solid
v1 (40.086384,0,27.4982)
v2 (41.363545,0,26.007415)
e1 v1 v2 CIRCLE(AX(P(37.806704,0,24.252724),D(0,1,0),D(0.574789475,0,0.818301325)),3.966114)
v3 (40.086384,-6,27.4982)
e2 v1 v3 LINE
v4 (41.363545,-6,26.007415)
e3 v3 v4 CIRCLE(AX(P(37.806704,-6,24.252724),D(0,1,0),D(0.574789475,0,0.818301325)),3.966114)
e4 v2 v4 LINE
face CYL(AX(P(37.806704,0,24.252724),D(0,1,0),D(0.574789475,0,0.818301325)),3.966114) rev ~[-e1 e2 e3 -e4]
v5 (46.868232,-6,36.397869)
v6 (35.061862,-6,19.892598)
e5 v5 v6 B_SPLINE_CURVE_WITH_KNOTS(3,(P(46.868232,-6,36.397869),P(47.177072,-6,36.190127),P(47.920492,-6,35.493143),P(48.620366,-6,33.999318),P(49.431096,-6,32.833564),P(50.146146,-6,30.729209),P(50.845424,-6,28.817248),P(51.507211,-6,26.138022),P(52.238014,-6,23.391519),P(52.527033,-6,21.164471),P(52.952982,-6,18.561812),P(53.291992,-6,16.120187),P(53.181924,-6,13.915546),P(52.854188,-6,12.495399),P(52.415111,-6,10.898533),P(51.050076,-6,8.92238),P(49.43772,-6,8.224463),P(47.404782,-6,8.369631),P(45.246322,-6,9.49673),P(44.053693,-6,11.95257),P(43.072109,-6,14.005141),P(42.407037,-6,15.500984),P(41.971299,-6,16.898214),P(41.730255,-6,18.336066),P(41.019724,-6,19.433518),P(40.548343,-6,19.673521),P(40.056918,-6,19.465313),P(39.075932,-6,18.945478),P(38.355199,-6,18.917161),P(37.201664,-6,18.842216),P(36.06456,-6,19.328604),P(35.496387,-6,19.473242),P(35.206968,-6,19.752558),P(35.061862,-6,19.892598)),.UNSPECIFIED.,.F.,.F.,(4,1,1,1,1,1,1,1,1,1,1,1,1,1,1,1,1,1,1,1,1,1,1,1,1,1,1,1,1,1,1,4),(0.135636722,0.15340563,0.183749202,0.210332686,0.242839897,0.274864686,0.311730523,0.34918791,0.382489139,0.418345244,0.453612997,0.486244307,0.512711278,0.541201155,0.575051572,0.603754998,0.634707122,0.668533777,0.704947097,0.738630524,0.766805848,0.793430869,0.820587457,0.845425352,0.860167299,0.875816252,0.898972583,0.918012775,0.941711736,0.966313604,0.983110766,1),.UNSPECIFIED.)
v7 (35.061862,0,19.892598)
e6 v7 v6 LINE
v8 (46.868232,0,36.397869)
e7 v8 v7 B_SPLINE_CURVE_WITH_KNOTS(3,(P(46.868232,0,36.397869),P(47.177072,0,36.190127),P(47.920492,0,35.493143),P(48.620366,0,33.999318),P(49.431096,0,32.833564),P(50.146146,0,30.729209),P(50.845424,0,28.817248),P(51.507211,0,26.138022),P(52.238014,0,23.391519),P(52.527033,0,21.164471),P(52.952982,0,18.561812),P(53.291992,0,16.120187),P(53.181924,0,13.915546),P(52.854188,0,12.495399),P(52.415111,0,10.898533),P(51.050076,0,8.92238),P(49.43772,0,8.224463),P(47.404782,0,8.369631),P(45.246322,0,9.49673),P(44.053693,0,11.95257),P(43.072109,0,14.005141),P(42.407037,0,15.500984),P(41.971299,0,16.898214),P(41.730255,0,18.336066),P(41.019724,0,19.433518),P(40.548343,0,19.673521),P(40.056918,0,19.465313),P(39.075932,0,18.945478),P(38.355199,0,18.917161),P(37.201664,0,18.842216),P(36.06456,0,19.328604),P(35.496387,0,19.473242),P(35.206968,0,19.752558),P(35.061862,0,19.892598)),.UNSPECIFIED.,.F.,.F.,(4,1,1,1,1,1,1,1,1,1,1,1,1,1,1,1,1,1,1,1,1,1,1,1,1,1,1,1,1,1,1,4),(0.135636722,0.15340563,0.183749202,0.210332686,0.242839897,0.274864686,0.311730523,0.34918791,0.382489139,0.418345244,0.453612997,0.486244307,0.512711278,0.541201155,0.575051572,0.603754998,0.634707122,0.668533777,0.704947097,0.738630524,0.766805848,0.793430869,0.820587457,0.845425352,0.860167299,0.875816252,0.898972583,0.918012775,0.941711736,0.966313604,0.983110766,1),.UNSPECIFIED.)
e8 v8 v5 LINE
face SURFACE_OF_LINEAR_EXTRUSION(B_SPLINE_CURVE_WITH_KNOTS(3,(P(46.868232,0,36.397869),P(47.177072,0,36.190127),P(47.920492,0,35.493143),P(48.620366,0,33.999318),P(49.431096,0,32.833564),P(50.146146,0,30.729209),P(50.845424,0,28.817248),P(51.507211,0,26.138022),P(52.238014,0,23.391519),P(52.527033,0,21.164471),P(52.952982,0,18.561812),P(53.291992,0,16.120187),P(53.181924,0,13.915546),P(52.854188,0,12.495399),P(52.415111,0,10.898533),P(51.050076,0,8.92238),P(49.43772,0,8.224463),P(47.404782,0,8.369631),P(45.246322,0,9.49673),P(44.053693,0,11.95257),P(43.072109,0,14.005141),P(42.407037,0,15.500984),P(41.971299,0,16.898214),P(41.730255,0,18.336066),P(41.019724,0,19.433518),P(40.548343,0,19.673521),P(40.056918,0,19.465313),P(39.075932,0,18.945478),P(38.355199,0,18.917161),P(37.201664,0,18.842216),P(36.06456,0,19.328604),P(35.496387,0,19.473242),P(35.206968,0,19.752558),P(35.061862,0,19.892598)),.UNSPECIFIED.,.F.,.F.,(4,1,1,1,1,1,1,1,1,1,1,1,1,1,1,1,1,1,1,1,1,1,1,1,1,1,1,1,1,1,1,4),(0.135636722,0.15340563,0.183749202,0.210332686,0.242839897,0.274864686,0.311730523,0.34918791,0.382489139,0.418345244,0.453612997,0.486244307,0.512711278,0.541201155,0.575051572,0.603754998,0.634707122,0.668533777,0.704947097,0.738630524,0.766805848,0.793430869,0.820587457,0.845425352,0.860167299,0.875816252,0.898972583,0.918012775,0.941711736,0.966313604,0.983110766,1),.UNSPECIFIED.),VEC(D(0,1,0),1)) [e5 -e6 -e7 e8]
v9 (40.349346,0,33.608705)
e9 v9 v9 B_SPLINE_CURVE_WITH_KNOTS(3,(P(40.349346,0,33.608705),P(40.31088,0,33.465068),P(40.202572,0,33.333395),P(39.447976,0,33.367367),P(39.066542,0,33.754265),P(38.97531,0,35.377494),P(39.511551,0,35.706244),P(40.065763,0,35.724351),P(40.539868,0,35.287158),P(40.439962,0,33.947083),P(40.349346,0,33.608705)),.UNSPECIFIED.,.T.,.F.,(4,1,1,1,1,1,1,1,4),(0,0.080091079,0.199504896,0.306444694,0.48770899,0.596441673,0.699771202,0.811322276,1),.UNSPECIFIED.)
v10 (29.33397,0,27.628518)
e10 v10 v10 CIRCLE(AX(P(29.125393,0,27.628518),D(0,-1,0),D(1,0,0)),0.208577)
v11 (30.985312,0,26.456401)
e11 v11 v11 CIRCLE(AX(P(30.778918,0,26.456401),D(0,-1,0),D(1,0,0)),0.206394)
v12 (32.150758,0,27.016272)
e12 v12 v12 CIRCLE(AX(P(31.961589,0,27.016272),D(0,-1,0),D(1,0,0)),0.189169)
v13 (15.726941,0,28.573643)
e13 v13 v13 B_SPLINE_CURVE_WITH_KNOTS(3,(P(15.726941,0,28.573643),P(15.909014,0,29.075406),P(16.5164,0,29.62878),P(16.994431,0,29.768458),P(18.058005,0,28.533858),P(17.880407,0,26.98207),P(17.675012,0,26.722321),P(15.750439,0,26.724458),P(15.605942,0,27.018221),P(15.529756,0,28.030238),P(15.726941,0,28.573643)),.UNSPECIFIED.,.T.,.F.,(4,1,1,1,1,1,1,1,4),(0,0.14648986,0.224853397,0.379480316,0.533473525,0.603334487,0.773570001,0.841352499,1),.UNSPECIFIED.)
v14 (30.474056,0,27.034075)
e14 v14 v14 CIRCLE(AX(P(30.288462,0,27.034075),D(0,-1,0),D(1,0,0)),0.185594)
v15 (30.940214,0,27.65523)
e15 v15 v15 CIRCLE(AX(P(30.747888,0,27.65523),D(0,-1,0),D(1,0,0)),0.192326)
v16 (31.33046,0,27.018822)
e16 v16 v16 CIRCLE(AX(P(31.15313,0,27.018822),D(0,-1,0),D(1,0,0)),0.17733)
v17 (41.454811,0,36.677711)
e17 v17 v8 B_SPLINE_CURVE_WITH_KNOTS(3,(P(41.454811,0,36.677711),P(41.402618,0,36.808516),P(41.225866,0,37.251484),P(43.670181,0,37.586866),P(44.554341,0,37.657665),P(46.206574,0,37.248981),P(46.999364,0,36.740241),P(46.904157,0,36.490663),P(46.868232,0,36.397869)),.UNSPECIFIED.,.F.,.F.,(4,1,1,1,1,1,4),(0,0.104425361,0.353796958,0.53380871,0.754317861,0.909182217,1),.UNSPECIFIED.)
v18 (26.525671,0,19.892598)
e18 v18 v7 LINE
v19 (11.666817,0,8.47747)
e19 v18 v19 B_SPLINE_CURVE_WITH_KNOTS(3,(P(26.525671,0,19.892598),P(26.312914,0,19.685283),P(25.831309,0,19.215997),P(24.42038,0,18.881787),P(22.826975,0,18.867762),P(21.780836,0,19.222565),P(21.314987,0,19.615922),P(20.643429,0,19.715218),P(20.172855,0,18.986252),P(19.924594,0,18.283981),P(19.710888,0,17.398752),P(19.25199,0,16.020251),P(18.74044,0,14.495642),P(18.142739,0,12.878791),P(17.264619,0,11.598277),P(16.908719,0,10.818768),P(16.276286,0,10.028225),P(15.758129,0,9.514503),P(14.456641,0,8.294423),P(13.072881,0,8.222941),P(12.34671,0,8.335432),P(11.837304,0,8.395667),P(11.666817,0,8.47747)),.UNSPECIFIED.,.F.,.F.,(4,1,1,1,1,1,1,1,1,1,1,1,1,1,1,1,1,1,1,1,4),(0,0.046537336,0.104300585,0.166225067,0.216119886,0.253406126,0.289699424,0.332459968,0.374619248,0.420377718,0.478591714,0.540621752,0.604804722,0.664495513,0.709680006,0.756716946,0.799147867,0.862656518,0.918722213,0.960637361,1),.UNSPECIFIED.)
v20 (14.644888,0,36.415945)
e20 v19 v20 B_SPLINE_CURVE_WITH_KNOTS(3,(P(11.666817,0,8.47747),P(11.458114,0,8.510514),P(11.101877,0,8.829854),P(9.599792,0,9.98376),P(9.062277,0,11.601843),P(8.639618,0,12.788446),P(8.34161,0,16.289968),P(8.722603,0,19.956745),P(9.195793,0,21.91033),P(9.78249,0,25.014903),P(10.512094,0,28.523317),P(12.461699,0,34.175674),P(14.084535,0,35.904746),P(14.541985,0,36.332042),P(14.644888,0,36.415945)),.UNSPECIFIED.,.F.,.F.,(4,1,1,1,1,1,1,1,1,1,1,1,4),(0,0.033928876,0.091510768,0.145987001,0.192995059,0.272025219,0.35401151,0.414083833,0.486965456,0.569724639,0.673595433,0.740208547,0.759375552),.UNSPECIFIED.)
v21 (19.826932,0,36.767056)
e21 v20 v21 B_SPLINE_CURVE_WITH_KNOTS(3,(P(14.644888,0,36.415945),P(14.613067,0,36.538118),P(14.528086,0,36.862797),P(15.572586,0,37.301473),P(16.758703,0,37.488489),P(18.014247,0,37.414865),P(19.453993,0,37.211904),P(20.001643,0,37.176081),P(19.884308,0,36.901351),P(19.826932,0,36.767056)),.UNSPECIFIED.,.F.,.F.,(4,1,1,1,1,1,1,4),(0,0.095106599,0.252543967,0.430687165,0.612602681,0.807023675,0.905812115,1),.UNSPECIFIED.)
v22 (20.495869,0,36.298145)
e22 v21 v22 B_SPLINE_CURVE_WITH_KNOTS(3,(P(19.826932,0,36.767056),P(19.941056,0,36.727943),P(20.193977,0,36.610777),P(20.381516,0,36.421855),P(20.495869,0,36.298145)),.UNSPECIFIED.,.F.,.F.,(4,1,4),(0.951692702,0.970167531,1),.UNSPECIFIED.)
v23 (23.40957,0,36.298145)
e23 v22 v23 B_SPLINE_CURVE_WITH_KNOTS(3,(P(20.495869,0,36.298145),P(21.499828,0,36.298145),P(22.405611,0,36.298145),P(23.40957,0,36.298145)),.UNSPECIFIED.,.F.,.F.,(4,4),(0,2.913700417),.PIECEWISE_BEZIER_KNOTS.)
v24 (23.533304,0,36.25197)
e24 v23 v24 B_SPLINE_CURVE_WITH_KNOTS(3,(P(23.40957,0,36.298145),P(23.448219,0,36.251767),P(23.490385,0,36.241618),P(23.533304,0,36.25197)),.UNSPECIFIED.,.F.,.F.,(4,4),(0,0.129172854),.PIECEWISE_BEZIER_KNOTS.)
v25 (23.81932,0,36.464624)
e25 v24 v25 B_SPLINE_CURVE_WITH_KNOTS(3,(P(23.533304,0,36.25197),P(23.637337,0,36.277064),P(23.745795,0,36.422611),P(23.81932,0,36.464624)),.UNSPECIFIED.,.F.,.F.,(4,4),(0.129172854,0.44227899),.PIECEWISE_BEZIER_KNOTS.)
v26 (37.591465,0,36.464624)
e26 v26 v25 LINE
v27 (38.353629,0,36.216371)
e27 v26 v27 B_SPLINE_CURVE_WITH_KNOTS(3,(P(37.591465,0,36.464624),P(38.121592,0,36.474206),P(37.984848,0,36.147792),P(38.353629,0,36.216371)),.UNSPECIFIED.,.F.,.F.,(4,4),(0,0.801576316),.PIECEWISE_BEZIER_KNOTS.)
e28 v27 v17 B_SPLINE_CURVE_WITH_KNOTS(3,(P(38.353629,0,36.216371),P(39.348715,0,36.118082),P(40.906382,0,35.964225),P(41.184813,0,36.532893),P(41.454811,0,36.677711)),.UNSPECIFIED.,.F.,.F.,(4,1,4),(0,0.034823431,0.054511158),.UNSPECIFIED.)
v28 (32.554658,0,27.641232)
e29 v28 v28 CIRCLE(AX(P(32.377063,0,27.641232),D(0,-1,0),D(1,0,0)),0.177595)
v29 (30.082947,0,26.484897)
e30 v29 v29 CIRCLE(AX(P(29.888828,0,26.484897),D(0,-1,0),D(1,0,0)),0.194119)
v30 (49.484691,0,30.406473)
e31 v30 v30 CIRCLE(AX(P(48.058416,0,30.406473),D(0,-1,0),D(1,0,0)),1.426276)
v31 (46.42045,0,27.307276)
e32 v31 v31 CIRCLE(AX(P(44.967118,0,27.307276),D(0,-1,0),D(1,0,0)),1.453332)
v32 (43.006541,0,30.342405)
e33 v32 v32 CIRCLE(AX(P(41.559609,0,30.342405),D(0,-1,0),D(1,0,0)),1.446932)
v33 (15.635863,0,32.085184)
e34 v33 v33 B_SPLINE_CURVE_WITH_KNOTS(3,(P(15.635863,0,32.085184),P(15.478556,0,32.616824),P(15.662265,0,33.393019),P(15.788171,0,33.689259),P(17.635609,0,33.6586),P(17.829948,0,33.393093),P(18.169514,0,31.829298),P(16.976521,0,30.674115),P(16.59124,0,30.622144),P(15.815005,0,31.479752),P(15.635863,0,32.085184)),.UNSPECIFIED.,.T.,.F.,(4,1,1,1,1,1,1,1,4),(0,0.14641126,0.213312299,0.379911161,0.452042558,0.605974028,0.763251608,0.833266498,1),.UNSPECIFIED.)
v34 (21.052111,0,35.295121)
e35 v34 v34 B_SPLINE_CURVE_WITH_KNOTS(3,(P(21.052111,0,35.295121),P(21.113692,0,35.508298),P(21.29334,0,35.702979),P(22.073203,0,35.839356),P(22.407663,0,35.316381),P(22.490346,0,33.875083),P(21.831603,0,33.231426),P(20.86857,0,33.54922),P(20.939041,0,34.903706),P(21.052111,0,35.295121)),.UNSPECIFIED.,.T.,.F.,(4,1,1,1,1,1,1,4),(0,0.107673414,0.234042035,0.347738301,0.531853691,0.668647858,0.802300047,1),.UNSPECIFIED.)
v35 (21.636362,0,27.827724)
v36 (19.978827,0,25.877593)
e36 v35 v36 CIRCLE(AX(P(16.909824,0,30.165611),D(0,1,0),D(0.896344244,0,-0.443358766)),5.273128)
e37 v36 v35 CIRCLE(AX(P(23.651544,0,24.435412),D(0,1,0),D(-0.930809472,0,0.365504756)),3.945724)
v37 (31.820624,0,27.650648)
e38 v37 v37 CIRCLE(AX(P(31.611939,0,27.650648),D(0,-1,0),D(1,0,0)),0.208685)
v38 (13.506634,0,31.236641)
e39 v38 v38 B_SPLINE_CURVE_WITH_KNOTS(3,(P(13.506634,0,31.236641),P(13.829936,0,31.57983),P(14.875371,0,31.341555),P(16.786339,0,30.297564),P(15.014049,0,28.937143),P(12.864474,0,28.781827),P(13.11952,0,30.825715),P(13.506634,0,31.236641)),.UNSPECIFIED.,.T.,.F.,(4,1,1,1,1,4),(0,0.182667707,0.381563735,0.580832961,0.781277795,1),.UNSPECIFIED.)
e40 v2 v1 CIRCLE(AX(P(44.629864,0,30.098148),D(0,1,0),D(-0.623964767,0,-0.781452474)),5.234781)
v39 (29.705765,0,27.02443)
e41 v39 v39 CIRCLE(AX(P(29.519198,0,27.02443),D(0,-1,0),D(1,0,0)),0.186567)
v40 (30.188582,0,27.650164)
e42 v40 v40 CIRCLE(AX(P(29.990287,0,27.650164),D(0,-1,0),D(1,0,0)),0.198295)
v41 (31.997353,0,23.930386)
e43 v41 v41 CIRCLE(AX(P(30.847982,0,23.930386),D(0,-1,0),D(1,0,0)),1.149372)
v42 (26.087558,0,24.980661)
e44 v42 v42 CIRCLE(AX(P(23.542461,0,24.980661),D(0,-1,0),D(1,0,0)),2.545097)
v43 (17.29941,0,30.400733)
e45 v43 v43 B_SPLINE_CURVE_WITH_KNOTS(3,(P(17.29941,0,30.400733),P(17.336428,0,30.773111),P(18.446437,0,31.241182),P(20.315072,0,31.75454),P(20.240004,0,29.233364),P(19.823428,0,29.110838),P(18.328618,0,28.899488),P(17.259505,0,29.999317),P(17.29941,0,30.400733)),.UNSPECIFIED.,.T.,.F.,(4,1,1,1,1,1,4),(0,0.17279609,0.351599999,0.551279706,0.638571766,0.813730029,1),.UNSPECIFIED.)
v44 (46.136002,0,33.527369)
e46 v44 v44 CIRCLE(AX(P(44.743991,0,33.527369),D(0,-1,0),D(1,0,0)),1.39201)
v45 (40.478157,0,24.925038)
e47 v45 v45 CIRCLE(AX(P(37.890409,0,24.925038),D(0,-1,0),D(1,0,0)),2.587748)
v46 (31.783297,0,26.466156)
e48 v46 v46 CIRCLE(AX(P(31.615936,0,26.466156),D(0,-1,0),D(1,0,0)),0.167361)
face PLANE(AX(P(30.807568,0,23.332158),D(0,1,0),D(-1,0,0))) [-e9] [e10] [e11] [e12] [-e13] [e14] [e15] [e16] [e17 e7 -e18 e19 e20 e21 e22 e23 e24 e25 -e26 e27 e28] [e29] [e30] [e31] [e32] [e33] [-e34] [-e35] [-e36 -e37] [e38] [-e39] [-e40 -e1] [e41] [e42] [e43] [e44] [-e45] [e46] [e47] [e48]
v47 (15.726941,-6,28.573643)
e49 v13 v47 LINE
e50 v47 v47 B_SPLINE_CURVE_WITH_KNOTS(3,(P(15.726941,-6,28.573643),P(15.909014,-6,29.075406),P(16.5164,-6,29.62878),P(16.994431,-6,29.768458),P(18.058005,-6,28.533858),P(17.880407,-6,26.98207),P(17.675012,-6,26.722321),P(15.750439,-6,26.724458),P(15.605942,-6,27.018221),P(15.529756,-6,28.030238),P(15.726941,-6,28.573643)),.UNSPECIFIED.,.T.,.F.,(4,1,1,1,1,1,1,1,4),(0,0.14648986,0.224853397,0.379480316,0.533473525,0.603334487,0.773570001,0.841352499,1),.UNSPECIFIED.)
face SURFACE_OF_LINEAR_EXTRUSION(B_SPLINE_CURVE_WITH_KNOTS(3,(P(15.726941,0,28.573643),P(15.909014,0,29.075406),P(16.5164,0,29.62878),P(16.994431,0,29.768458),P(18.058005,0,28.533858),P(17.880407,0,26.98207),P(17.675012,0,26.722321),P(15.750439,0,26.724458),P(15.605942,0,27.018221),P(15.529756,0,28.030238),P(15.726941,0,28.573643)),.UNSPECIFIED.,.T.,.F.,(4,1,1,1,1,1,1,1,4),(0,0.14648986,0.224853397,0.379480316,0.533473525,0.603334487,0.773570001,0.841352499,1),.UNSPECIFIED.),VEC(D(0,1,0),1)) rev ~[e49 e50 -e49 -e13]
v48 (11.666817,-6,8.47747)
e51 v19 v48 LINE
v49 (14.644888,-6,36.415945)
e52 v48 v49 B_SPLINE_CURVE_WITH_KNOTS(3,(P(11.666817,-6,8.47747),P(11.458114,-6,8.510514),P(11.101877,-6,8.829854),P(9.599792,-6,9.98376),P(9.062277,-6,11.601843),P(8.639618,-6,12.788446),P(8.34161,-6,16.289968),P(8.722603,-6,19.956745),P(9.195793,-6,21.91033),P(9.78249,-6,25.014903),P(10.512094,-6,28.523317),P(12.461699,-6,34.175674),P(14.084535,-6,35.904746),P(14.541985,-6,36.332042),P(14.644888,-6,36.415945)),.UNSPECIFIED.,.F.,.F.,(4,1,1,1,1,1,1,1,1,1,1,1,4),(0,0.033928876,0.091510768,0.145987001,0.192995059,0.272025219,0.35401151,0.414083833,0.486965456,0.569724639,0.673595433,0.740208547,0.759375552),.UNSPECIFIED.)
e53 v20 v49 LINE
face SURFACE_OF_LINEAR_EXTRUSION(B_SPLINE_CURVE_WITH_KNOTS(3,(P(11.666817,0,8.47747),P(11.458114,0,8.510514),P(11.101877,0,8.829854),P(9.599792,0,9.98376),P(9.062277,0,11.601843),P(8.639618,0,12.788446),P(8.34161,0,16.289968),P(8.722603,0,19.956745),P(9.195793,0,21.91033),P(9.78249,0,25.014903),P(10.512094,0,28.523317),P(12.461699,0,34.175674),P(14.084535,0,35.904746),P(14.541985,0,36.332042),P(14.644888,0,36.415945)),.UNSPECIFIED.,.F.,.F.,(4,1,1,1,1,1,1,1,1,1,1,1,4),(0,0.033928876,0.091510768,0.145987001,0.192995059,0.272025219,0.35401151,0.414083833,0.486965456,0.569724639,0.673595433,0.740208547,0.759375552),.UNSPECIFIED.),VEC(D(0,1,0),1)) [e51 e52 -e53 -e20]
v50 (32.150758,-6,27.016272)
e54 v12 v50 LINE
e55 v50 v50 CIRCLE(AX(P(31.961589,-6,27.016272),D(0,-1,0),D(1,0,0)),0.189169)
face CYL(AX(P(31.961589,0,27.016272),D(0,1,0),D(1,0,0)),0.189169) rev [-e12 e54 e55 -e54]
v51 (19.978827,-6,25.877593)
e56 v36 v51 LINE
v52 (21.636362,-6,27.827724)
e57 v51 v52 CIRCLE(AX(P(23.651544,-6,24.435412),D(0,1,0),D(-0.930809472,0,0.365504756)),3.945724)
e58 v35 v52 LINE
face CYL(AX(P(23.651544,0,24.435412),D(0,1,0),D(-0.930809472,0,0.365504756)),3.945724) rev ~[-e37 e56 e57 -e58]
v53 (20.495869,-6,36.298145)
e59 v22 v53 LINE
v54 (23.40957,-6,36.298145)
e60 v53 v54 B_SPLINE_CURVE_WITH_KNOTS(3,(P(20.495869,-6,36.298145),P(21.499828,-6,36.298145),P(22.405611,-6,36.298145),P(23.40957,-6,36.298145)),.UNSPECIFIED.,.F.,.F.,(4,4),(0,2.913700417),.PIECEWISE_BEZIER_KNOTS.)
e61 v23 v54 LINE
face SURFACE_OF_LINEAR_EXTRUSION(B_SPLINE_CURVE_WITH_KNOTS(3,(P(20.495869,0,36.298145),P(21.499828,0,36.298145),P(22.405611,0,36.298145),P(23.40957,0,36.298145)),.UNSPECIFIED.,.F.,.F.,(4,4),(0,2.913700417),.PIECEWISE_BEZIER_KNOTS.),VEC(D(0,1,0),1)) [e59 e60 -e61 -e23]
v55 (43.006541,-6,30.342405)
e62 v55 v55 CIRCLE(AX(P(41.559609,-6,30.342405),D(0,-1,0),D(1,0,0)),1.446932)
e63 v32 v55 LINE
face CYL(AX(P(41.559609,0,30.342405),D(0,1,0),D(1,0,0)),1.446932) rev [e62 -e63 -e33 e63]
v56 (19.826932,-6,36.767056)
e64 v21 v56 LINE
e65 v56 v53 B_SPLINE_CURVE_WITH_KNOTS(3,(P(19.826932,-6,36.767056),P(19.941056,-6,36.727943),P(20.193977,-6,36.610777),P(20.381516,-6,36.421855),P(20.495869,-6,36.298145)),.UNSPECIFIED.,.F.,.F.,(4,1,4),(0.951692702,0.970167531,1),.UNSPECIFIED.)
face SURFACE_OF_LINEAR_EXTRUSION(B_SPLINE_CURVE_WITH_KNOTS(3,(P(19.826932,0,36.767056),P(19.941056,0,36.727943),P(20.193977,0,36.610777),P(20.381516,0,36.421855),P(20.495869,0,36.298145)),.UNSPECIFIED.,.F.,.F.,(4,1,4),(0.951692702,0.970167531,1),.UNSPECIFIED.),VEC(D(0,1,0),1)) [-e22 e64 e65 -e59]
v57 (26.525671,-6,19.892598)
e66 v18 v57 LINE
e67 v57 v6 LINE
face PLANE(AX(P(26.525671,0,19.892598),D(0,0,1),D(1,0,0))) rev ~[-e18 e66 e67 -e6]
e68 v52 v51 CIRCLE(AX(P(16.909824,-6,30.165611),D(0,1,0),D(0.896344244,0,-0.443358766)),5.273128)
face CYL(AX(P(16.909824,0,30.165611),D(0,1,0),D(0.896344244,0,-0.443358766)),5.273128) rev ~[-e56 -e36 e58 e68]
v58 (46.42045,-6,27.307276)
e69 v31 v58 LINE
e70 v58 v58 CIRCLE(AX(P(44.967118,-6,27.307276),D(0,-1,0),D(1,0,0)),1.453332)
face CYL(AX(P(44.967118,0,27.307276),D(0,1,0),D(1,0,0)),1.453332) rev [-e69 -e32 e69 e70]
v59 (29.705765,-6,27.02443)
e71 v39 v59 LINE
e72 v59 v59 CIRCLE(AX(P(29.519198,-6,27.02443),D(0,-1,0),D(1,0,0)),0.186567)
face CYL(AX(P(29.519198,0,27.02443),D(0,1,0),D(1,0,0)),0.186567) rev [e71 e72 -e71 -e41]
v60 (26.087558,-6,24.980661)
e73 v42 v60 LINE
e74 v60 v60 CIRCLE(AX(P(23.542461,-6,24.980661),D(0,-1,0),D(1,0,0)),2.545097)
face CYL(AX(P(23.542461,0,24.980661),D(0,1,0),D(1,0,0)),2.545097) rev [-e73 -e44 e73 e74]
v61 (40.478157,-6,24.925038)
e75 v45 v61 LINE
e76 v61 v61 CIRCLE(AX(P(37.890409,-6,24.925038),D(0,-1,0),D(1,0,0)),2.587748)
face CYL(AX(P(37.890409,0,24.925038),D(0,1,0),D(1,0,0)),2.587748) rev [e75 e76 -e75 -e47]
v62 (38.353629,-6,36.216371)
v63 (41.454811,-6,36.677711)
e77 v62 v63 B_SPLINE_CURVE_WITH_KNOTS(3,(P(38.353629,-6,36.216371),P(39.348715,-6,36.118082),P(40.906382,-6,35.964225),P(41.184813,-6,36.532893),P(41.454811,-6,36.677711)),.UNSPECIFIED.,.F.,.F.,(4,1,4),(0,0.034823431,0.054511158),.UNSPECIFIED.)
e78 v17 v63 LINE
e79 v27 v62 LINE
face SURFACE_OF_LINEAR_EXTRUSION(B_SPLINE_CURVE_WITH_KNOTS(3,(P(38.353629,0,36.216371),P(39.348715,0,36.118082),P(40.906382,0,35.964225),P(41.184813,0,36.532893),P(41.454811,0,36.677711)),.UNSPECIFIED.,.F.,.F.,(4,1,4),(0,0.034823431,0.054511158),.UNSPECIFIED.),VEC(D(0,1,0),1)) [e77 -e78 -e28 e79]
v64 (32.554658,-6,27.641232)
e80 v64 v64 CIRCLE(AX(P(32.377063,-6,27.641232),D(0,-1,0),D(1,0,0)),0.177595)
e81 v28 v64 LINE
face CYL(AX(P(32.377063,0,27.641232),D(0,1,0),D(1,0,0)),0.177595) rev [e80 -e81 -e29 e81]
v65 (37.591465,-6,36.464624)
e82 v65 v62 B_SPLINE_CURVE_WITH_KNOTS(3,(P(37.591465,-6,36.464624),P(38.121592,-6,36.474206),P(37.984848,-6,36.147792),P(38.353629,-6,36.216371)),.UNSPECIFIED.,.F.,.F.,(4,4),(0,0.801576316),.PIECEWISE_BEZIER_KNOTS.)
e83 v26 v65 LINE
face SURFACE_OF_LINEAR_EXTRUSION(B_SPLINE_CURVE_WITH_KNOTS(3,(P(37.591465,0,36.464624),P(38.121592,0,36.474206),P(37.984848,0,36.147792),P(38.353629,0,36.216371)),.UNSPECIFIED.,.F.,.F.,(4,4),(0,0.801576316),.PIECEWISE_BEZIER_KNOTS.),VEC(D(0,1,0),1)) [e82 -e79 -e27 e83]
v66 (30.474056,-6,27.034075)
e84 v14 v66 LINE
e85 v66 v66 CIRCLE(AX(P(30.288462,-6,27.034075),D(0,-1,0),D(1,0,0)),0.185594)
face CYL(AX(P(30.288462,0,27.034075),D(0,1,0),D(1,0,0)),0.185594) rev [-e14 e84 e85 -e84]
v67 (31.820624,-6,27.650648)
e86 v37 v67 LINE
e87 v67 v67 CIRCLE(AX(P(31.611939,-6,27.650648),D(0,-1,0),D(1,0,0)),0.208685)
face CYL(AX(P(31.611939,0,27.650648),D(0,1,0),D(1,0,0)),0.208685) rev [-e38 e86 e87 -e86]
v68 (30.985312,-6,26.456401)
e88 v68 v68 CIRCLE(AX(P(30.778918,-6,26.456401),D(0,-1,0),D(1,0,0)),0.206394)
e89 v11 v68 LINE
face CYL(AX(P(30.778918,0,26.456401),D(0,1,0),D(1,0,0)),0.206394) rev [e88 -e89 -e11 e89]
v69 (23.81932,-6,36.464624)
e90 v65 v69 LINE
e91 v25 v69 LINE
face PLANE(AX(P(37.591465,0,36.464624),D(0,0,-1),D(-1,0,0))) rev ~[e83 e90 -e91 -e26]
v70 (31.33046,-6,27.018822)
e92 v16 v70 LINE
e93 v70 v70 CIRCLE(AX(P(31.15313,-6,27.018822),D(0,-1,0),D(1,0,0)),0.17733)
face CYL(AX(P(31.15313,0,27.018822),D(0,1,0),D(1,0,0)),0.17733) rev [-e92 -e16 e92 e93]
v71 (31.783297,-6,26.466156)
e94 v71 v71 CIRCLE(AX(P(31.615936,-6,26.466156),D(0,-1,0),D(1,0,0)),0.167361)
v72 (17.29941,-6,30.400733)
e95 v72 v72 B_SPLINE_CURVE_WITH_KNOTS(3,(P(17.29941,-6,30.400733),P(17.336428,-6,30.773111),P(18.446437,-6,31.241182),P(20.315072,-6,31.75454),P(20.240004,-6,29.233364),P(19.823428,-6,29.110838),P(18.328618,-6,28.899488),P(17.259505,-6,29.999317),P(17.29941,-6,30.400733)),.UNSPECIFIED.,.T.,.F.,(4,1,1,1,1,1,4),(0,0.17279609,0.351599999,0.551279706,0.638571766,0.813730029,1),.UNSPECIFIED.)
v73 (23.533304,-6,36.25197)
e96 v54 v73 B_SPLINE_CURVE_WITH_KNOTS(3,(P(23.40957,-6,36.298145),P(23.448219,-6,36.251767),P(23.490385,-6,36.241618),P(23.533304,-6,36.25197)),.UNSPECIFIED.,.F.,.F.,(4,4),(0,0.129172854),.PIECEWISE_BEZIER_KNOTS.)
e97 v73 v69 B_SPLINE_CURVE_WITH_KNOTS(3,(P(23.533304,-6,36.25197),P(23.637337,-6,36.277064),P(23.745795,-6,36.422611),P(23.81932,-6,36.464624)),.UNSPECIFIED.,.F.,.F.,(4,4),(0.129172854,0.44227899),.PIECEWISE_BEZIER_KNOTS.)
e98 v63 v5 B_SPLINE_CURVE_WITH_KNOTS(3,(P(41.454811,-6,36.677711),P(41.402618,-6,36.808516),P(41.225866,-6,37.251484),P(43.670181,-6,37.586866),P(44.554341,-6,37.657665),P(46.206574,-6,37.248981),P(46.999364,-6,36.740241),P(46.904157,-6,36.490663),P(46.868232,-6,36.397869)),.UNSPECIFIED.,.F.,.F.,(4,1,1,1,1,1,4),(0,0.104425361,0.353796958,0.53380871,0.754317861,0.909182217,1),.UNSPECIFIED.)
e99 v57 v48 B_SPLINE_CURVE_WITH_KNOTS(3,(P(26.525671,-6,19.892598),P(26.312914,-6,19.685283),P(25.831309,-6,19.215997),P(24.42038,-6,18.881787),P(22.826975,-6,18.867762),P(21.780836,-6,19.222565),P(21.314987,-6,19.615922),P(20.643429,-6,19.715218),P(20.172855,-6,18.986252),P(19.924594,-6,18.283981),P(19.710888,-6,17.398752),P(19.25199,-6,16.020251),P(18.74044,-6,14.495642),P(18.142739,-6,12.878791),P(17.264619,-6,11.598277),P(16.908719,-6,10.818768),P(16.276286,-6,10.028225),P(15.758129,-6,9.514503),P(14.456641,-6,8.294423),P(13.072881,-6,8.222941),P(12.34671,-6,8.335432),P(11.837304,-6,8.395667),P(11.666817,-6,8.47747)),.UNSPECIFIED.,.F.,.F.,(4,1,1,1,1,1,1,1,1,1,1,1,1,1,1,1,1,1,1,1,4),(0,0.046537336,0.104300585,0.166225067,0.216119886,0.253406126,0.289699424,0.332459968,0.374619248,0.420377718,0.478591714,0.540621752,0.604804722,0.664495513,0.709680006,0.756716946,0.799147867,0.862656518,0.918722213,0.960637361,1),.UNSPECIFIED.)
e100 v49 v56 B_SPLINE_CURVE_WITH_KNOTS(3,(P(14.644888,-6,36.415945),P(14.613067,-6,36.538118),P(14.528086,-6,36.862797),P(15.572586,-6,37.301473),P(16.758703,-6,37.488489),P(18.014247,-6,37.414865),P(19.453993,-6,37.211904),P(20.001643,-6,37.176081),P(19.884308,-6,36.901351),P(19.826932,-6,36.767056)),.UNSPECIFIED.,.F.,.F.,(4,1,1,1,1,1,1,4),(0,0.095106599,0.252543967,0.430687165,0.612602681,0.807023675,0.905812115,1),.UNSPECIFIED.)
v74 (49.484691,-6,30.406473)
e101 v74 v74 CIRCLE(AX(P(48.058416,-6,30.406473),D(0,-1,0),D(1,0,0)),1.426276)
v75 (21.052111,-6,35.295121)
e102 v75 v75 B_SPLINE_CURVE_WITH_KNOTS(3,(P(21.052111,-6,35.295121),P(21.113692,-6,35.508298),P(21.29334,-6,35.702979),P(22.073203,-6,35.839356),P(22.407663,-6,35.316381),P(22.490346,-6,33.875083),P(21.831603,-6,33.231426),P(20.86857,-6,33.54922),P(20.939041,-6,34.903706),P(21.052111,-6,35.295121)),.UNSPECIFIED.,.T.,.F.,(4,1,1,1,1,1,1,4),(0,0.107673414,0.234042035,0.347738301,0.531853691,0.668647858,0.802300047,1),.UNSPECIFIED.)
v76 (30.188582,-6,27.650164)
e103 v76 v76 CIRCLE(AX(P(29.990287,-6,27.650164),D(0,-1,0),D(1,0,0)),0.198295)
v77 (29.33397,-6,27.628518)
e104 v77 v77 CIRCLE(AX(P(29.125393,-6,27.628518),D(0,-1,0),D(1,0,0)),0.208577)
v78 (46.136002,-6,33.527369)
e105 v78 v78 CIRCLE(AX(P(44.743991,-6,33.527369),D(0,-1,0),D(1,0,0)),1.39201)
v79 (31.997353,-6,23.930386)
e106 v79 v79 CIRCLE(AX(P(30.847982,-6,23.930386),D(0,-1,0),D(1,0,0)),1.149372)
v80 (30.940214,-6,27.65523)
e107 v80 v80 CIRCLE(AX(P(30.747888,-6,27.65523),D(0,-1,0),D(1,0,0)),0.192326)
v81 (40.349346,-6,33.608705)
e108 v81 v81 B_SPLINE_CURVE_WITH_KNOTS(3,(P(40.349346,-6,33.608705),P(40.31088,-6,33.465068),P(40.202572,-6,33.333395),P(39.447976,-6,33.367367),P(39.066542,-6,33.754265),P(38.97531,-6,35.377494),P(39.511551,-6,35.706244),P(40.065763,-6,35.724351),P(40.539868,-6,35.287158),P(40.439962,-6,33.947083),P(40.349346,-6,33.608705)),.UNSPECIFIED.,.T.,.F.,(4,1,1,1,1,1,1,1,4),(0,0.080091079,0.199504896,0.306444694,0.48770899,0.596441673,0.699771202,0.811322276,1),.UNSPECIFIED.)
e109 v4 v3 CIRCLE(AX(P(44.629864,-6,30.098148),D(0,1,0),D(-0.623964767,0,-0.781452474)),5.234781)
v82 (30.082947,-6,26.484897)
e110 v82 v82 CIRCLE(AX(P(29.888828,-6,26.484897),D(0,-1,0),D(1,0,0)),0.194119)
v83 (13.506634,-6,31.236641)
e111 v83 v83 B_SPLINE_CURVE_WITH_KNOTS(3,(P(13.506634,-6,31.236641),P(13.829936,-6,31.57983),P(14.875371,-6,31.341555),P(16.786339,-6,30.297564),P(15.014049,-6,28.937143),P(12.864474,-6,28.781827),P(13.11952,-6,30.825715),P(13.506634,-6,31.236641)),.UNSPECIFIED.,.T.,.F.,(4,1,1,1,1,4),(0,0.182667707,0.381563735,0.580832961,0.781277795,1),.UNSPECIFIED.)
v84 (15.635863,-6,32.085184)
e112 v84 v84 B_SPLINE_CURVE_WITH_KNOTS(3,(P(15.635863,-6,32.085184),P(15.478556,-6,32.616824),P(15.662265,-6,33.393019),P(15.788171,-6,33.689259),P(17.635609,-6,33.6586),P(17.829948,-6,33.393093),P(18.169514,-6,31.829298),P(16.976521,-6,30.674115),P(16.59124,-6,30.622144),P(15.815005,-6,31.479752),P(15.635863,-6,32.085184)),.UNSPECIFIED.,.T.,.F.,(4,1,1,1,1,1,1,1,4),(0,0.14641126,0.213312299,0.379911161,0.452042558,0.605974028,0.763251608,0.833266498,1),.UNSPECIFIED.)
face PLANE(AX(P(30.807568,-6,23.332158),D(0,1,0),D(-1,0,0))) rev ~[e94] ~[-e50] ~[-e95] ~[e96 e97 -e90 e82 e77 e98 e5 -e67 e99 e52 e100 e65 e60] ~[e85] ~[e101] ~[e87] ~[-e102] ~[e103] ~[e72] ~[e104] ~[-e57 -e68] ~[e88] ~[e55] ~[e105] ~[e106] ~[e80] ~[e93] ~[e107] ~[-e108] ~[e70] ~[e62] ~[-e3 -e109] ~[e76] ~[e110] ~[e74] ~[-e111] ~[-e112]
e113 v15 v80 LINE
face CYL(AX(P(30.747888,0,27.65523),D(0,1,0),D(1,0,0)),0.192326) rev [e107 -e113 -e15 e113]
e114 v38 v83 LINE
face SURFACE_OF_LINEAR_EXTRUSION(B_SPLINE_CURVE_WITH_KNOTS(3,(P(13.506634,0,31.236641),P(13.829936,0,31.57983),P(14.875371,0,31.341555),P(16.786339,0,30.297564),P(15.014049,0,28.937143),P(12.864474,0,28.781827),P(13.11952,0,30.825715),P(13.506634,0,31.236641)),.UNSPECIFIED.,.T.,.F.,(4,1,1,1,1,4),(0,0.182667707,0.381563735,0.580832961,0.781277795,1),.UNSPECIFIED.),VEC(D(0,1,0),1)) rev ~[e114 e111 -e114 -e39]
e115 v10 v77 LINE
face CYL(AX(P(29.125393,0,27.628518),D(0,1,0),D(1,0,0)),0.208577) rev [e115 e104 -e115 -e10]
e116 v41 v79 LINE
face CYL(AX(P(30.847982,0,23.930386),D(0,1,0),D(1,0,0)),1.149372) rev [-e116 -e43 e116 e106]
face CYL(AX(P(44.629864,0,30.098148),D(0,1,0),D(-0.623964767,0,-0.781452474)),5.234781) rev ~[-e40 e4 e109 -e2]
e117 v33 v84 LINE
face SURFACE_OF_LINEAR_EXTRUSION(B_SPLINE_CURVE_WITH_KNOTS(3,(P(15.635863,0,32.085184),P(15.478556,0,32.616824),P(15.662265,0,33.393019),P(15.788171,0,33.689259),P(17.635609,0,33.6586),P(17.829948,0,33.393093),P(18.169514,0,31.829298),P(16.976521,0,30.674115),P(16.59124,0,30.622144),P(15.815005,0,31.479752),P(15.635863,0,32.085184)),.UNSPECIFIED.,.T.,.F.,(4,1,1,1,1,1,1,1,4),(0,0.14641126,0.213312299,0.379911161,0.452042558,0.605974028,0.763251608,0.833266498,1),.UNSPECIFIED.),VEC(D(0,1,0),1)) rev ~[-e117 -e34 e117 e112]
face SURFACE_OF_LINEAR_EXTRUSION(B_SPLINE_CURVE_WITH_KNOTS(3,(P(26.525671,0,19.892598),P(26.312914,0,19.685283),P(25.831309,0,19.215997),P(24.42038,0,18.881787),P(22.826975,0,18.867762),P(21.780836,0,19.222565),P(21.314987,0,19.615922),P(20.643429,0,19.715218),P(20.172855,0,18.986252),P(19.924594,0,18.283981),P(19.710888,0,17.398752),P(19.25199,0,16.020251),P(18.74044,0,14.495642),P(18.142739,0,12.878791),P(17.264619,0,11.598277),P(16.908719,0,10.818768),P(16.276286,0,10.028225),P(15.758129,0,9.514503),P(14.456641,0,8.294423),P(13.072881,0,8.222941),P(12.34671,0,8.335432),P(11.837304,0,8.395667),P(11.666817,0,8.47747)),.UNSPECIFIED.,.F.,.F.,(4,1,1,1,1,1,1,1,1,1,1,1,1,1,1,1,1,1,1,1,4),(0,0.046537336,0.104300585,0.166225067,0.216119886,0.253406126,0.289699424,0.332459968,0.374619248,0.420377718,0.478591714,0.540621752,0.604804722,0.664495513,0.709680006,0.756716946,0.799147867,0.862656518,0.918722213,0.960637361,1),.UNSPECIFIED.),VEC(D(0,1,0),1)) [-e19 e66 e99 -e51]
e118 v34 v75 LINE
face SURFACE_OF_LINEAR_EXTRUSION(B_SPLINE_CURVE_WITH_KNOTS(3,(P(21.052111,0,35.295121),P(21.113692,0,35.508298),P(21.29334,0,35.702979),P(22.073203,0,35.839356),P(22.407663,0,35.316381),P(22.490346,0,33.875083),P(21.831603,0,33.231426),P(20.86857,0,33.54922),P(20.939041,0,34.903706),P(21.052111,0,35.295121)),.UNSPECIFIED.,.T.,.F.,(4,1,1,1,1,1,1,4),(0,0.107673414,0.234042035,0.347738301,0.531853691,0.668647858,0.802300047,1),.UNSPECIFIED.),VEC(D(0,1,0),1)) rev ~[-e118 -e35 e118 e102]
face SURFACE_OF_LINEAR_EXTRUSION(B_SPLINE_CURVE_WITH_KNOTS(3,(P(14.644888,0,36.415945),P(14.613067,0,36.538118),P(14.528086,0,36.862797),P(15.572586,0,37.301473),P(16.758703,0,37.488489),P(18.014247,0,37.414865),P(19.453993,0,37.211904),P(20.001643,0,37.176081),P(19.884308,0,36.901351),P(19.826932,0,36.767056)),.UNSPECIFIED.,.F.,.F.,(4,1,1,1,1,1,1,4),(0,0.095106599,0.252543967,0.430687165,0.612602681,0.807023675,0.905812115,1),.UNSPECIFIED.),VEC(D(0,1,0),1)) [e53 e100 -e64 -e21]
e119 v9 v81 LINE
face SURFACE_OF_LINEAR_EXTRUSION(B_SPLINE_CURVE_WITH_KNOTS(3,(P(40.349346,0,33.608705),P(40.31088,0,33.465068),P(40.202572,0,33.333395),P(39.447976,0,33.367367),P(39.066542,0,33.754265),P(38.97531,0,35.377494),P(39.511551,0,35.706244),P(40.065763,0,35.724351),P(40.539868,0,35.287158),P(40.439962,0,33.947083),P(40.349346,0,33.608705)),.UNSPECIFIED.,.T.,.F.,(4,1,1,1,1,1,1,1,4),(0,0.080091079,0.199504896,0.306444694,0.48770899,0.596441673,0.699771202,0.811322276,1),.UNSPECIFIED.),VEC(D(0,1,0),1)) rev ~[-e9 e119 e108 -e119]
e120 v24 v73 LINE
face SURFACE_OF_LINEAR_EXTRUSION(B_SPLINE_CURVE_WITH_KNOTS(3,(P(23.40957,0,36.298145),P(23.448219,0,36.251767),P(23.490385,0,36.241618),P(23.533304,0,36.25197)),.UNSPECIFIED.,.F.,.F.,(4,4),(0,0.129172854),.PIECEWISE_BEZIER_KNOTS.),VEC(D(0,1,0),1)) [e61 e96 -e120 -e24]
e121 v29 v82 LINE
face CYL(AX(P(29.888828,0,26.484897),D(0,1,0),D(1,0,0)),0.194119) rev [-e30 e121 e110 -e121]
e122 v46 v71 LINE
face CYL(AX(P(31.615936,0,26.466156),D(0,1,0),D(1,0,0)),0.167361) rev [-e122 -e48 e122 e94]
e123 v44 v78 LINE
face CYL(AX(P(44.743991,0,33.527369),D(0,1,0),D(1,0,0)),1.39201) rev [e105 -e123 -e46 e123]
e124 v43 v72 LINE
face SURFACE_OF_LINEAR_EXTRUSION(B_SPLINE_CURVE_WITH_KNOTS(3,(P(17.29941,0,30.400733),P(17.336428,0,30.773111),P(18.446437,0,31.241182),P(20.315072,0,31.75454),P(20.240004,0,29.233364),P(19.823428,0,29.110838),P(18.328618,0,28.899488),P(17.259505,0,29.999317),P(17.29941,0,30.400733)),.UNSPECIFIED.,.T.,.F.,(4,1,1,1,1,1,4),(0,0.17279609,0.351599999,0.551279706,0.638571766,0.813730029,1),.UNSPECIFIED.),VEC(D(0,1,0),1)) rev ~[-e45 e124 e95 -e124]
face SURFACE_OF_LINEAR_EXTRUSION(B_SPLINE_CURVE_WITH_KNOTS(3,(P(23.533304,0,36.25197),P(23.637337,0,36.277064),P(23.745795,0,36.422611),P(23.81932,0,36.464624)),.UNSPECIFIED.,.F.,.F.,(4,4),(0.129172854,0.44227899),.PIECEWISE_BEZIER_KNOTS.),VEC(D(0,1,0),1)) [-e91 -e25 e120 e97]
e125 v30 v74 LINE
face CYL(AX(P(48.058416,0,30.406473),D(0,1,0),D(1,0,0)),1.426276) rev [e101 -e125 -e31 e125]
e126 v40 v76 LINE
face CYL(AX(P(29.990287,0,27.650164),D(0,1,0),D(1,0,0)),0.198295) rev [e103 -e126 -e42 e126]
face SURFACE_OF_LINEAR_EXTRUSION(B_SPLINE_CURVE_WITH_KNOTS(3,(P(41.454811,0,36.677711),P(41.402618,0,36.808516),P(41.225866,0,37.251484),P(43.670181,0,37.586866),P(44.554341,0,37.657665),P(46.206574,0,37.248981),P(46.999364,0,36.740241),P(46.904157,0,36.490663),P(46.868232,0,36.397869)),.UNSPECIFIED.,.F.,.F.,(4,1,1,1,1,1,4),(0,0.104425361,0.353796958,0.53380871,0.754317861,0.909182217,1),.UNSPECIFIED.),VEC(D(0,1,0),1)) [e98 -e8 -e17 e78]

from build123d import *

# Parameters (mm, degrees)
F0_R     = 0.1941186199
F0_R_2   = 0.2063942399
F0_R_3   = 0.1865670847
F0_R_4   = 0.1855942751
F0_R_5   = 0.2085773592
F0_R_6   = 0.1982954609
F0_R_7   = 0.1923260904
F0_R_8   = 1.1493715914
F0_R_9   = 0.1673612264
F0_R_10  = 0.1773296068
F0_R_11  = 0.1891686726
F0_R_12  = 0.2086852398
F0_R_13  = 0.1775952352
F0_R_14  = 2.5450967712
F0_R_15  = 2.5877480532
F0_R_16  = 1.4533317295
F0_R_17  = 1.4469316174
F0_R_18  = 1.3920104328
F0_R_19  = 1.4262755206
F1_DEPTH = 6


with BuildPart() as f1:
    # F0 (on Front) → F1 (new body)
    with BuildSketch(Plane.XZ):
        with BuildLine():
            add(Edge.make_bspline(
                [(11.6668166593, 8.4774699062), (11.4581135239, 8.5105135305), (11.1018766618, 8.8298537688), (9.5997922959, 9.9837603842), (9.0622773866, 11.601843475), (8.6396184477, 12.7884464966), (8.3416104604, 16.2899683261), (8.7226026228, 19.9567445237), (9.1957932674, 21.910330072), (9.7824898343, 25.0149027766), (10.5120943189, 28.5233167791), (12.461698773, 34.1756736094), (14.0845354274, 35.9047455481), (14.5419851074, 36.3320423424), (14.6448883911, 36.4159453509)],
                knots=[0, 0, 0, 0, 0.0339288758, 0.0915107683, 0.1459870014, 0.1929950589, 0.2720252188, 0.3540115099, 0.4140838329, 0.4869654564, 0.5697246394, 0.6735954333, 0.7402085471, 0.7593755516, 0.7593755516, 0.7593755516, 0.7593755516], degree=3))
            add(Edge.make_bspline(
                [(26.5256706625, 19.892597571), (26.3129136309, 19.6852825938), (25.8313091873, 19.2159969794), (24.4203798019, 18.8817874207), (22.8269753251, 18.8677621823), (21.7808357092, 19.2225648798), (21.3149869887, 19.6159222272), (20.643429163, 19.7152182662), (20.1728547923, 18.9862522637), (19.9245940839, 18.2839807332), (19.7108880259, 17.3987516015), (19.2519903853, 16.0202513766), (18.7404398349, 14.4956421852), (18.1427393914, 12.8787907443), (17.264618894, 11.5982770048), (16.9087187582, 10.818767728), (16.2762856019, 10.028225034), (15.7581292072, 9.5145030468), (14.4566408743, 8.294423292), (13.072881289, 8.2229411291), (12.3467104907, 8.3354323849), (11.8373041438, 8.3956674845), (11.6668166593, 8.4774699062)],
                knots=[0, 0, 0, 0, 0.0465373358, 0.1043005854, 0.1662250673, 0.2161198864, 0.2534061257, 0.2896994238, 0.3324599675, 0.3746192483, 0.4203777184, 0.478591714, 0.5406217523, 0.6048047222, 0.6644955132, 0.709680006, 0.7567169456, 0.7991478675, 0.8626565176, 0.9187222134, 0.9606373609, 1, 1, 1, 1], degree=3))
            Line((26.5256706625, 19.892597571), (35.0618623197, 19.892597571))
            add(Edge.make_bspline(
                [(46.8682318588, 36.3978685945), (47.1770722826, 36.1901267626), (47.9204917437, 35.493143255), (48.6203656143, 33.9993176806), (49.4310963774, 32.8335642919), (50.1461458692, 30.7292089457), (50.8454237396, 28.8172475641), (51.5072110302, 26.1380218887), (52.2380138399, 23.3915187199), (52.5270333709, 21.1644714299), (52.9529819584, 18.5618123721), (53.2919920546, 16.1201873933), (53.1819238482, 13.9155461729), (52.8541884656, 12.4953987465), (52.415111269, 10.8985334932), (51.0500764214, 8.9223798947), (49.4377201884, 8.224463375), (47.404781773, 8.3696311979), (45.2463218917, 9.4967298103), (44.0536926914, 11.9525699369), (43.0721088435, 14.0051410278), (42.4070374661, 15.5009838174), (41.9712990977, 16.8982143184), (41.7302547671, 18.3360661901), (41.0197241856, 19.433518373), (40.5483433267, 19.6735214525), (40.0569175056, 19.465313381), (39.075932335, 18.9454778693), (38.3551985366, 18.9171608468), (37.2016644718, 18.8422158067), (36.0645598468, 19.3286038937), (35.4963874132, 19.4732420928), (35.2069676999, 19.7525579346), (35.0618623197, 19.892597571)],
                knots=[0.135636722, 0.135636722, 0.135636722, 0.135636722, 0.1534056299, 0.1837492021, 0.2103326856, 0.2428398969, 0.2748646862, 0.3117305226, 0.3491879098, 0.3824891389, 0.4183452437, 0.4536129967, 0.4862443066, 0.5127112775, 0.5412011554, 0.5750515722, 0.6037549981, 0.6347071223, 0.6685337768, 0.7049470969, 0.7386305244, 0.7668058482, 0.7934308687, 0.8205874573, 0.8454253524, 0.8601672991, 0.8758162517, 0.8989725825, 0.9180127749, 0.9417117362, 0.9663136044, 0.9831107661, 1, 1, 1, 1], degree=3))
            add(Edge.make_bspline(
                [(41.4548106492, 36.677710712), (41.9202396355, 36.9273518106), (43.8679130086, 37.0673774652), (45.7576574874, 37.0046312669), (46.6439330992, 36.5487433882), (46.8682318588, 36.3978685945)],
                knots=[0.0545111578, 0.0545111578, 0.0545111578, 0.0545111578, 0.0884494336, 0.1227318569, 0.135636722, 0.135636722, 0.135636722, 0.135636722], degree=3))
            add(Edge.make_bspline(
                [(38.3536294103, 36.2163707614), (39.3487154672, 36.1180818941), (40.906382022, 35.9642245666), (41.1848134637, 36.5328929288), (41.4548106492, 36.677710712)],
                knots=[0, 0, 0, 0, 0.0348234305, 0.0545111578, 0.0545111578, 0.0545111578, 0.0545111578], degree=3))
            add(Edge.make_bspline(
                [(37.5914648175, 36.4646241069), (38.1215922534, 36.4742055535), (37.9848480225, 36.1477918923), (38.3536294103, 36.2163707614)],
                knots=[0, 0, 0, 0, 0.8015763158, 0.8015763158, 0.8015763158, 0.8015763158], degree=3))
            add(Edge.make_bspline(
                [(37.5914648175, 36.4646241069), (37.7368806649, 36.3834362477), (38.0520833542, 36.2074538356), (38.3593659539, 35.6727986606), (38.2097092735, 29.2878220694), (38.0271366746, 28.8709616446), (37.5303442284, 28.510110336), (34.8734101548, 28.6221990536), (31.6083061723, 28.6582031734), (28.2253994065, 28.6655230037), (24.6489179303, 28.6101540701), (23.8207422053, 28.7193097901), (23.163518312, 29.1109519168), (23.1999325441, 30.9532622635), (23.313792754, 34.3903317862), (23.1887219872, 35.8240818242), (23.4403799122, 36.1365682911), (23.5333036198, 36.251970239)],
                knots=[0, 0, 0, 0, 0.0354323508, 0.0768030756, 0.2073708418, 0.2426751913, 0.2773987784, 0.3599290702, 0.4560508614, 0.5546129769, 0.6514923595, 0.6973918278, 0.7366145087, 0.8048954018, 0.9041526851, 0.9646064431, 1, 1, 1, 1], degree=3))
            add(Edge.make_bspline(
                [(23.409569636, 36.2981446087), (23.4482186653, 36.2517668616), (23.4903845378, 36.2416179378), (23.5333036198, 36.251970239)],
                knots=[0, 0, 0, 0, 0.1291728543, 0.1291728543, 0.1291728543, 0.1291728543], degree=3))
            add(Edge.make_bspline(
                [(20.4958692193, 36.2981446087), (21.499828125, 36.2981446087), (22.4056107303, 36.2981446087), (23.409569636, 36.2981446087)],
                knots=[0, 0, 0, 0, 2.9137004167, 2.9137004167, 2.9137004167, 2.9137004167], degree=3))
            add(Edge.make_bspline(
                [(19.826932137, 36.7670562374), (19.9410564751, 36.7279429366), (20.1939772052, 36.6107772861), (20.381516447, 36.4218554313), (20.4958692193, 36.2981446087)],
                knots=[0.9516927023, 0.9516927023, 0.9516927023, 0.9516927023, 0.9701675308, 1, 1, 1, 1], degree=3))
            add(Edge.make_bspline(
                [(14.6448883911, 36.4159453509), (14.7496374604, 36.5013533353), (15.0934178023, 36.7406669729), (16.0427128298, 37.074472356), (17.5890312406, 37.1411573711), (19.1931557641, 36.940378447), (19.7208475925, 36.8034140973), (19.826932137, 36.7670562374)],
                knots=[0.7593755516, 0.7593755516, 0.7593755516, 0.7593755516, 0.7788863564, 0.8229753014, 0.8768701569, 0.9345193823, 0.9516927023, 0.9516927023, 0.9516927023, 0.9516927023], degree=3))
        make_face()
        with Locations((29.8888281679, 26.4848972667)):
            Circle(F0_R, mode=Mode.SUBTRACT)
        with Locations((30.7789176002, 26.4564012941)):
            Circle(F0_R_2, mode=Mode.SUBTRACT)
        with BuildLine():
            ThreePointArc((19.9788265731, 25.8775926399), (12.2199886071, 32.5762791085), (22.1829524285, 30.1656113832))
            ThreePointArc((22.1829524285, 30.1656113832), (22.0444869501, 28.965144935), (21.6363623616, 27.8277238599))
            ThreePointArc((21.6363623616, 27.8277238599), (25.6031313683, 27.8647037823), (27.5972678009, 24.4354117628))
            ThreePointArc((27.5972678009, 24.4354117628), (22.9176469736, 20.5585402011), (19.9788265731, 25.8775926399))
        make_face(mode=Mode.SUBTRACT)
        with Locations((29.5191976391, 27.0244297045)):
            Circle(F0_R_3, mode=Mode.SUBTRACT)
        with Locations((30.2884618795, 27.0340749356)):
            Circle(F0_R_4, mode=Mode.SUBTRACT)
        with Locations((29.1253929111, 27.6285179094)):
            Circle(F0_R_5, mode=Mode.SUBTRACT)
        with Locations((29.9902867822, 27.6501643457)):
            Circle(F0_R_6, mode=Mode.SUBTRACT)
        with Locations((30.7478877232, 27.6552300876)):
            Circle(F0_R_7, mode=Mode.SUBTRACT)
        with BuildLine():
            add(Edge.make_bspline(
                [(21.0521109402, 35.2951213717), (21.1136924135, 35.5082983402), (21.2933401836, 35.7029787844), (22.0732032824, 35.8393560691), (22.4076629284, 35.3163813781), (22.4903456863, 33.8750826152), (21.8316030117, 33.2314258921), (20.8685698344, 33.5492197795), (20.9390407409, 34.9037055606), (21.0521109402, 35.2951213717)],
                knots=[0, 0, 0, 0, 0.1076734141, 0.2340420353, 0.3477383012, 0.5318536911, 0.6686478579, 0.8023000466, 1, 1, 1, 1], degree=3))
        make_face(mode=Mode.SUBTRACT)
        with Locations((30.8479815603, 23.9303856663)):
            Circle(F0_R_8, mode=Mode.SUBTRACT)
        with Locations((31.6159360065, 26.4661559466)):
            Circle(F0_R_9, mode=Mode.SUBTRACT)
        with Locations((31.1531300364, 27.0188220587)):
            Circle(F0_R_10, mode=Mode.SUBTRACT)
        with Locations((31.9615892712, 27.0162720674)):
            Circle(F0_R_11, mode=Mode.SUBTRACT)
        with Locations((31.6119389053, 27.650647755)):
            Circle(F0_R_12, mode=Mode.SUBTRACT)
        with Locations((32.3770629543, 27.6412324194)):
            Circle(F0_R_13, mode=Mode.SUBTRACT)
        with BuildLine():
            ThreePointArc((41.3635447474, 26.007414842), (41.6691444212, 25.1536183893), (41.7728176404, 24.2527236081))
            ThreePointArc((41.7728176404, 24.2527236081), (34.2873624785, 22.4239827776), (40.086384367, 27.4981996771))
            ThreePointArc((40.086384367, 27.4981996771), (43.2847218468, 35.1571520714), (49.8646449033, 30.0981475266))
            ThreePointArc((49.8646449033, 30.0981475266), (46.8997171117, 25.3810828207), (41.3635447474, 26.007414842))
        make_face(mode=Mode.SUBTRACT)
        with BuildLine():
            add(Edge.make_bspline(
                [(40.3493456542, 33.6087048054), (40.3108802618, 33.4650681032), (40.2025721634, 33.3333952602), (39.447976347, 33.3673670225), (39.0665417626, 33.7542649019), (38.9753097049, 35.3774944535), (39.511551021, 35.7062443828), (40.065762563, 35.7243510122), (40.5398678723, 35.2871579271), (40.4399620226, 33.947082643), (40.3493456542, 33.6087048054)],
                knots=[0, 0, 0, 0, 0.0800910788, 0.1995048955, 0.3064446941, 0.4877089901, 0.5964416725, 0.6997712018, 0.8113222759, 1, 1, 1, 1], degree=3))
        make_face(mode=Mode.SUBTRACT)
        with BuildLine():
            add(Edge.make_bspline(
                [(14.6448883911, 36.4159453509), (14.6130671427, 36.5381183972), (14.5280856788, 36.8627974314), (15.5725857254, 37.3014727007), (16.7587028271, 37.4884891585), (18.0142471632, 37.4148653913), (19.4539934642, 37.2119038299), (20.0016429498, 37.1760810829), (19.8843084062, 36.9013507221), (19.826932137, 36.7670562374)],
                knots=[0, 0, 0, 0, 0.0951065989, 0.2525439672, 0.4306871646, 0.6126026811, 0.8070236747, 0.9058121153, 1, 1, 1, 1], degree=3))
            add(Edge.make_bspline(
                [(14.6448883911, 36.4159453509), (14.7496374604, 36.5013533353), (15.0934178023, 36.7406669729), (16.0427128298, 37.074472356), (17.5890312406, 37.1411573711), (19.1931557641, 36.940378447), (19.7208475925, 36.8034140973), (19.826932137, 36.7670562374)],
                knots=[0.7593755516, 0.7593755516, 0.7593755516, 0.7593755516, 0.7788863564, 0.8229753014, 0.8768701569, 0.9345193823, 0.9516927023, 0.9516927023, 0.9516927023, 0.9516927023], degree=3))
        make_face()
        with BuildLine():
            add(Edge.make_bspline(
                [(41.4548106492, 36.677710712), (41.9202396355, 36.9273518106), (43.8679130086, 37.0673774652), (45.7576574874, 37.0046312669), (46.6439330992, 36.5487433882), (46.8682318588, 36.3978685945)],
                knots=[0.0545111578, 0.0545111578, 0.0545111578, 0.0545111578, 0.0884494336, 0.1227318569, 0.135636722, 0.135636722, 0.135636722, 0.135636722], degree=3))
            add(Edge.make_bspline(
                [(41.4548106492, 36.677710712), (41.4026183179, 36.8085158941), (41.2258659263, 37.2514836049), (43.6701812543, 37.5868662218), (44.5543410301, 37.6576645984), (46.2065738379, 37.2489810447), (46.9993637328, 36.7402410759), (46.9041572911, 36.4906634716), (46.8682318588, 36.3978685945)],
                knots=[0, 0, 0, 0, 0.1044253613, 0.3537969585, 0.5338087096, 0.7543178605, 0.9091822166, 1, 1, 1, 1], degree=3))
        make_face()
        with BuildLine():
            add(Edge.make_bspline(
                [(23.5333036198, 36.251970239), (23.6373365298, 36.2770635068), (23.7457948792, 36.4226105606), (23.8193199039, 36.4646241069)],
                knots=[0.1291728543, 0.1291728543, 0.1291728543, 0.1291728543, 0.4422789904, 0.4422789904, 0.4422789904, 0.4422789904], degree=3))
            add(Edge.make_bspline(
                [(37.5914648175, 36.4646241069), (37.7368806649, 36.3834362477), (38.0520833542, 36.2074538356), (38.3593659539, 35.6727986606), (38.2097092735, 29.2878220694), (38.0271366746, 28.8709616446), (37.5303442284, 28.510110336), (34.8734101548, 28.6221990536), (31.6083061723, 28.6582031734), (28.2253994065, 28.6655230037), (24.6489179303, 28.6101540701), (23.8207422053, 28.7193097901), (23.163518312, 29.1109519168), (23.1999325441, 30.9532622635), (23.313792754, 34.3903317862), (23.1887219872, 35.8240818242), (23.4403799122, 36.1365682911), (23.5333036198, 36.251970239)],
                knots=[0, 0, 0, 0, 0.0354323508, 0.0768030756, 0.2073708418, 0.2426751913, 0.2773987784, 0.3599290702, 0.4560508614, 0.5546129769, 0.6514923595, 0.6973918278, 0.7366145087, 0.8048954018, 0.9041526851, 0.9646064431, 1, 1, 1, 1], degree=3))
            Line((37.5914648175, 36.4646241069), (23.8193199039, 36.4646241069))
        make_face()
        with BuildLine():
            ThreePointArc((21.6363623616, 27.8277238599), (20.9277049916, 26.7505689697), (19.9788265731, 25.8775926399))
            ThreePointArc((19.9788265731, 25.8775926399), (22.9176469736, 20.5585402011), (27.5972678009, 24.4354117628))
            ThreePointArc((27.5972678009, 24.4354117628), (25.6031313683, 27.8647037823), (21.6363623616, 27.8277238599))
        make_face()
        with Locations((23.542461175, 24.9806613551)):
            Circle(F0_R_14, mode=Mode.SUBTRACT)
        with BuildLine():
            ThreePointArc((21.6363623616, 27.8277238599), (22.0444869501, 28.965144935), (22.1829524285, 30.1656113832))
            ThreePointArc((22.1829524285, 30.1656113832), (12.2199886071, 32.5762791085), (19.9788265731, 25.8775926399))
            ThreePointArc((19.9788265731, 25.8775926399), (20.6450839645, 26.9907858649), (21.6363623616, 27.8277238599))
        make_face()
        with BuildLine():
            add(Edge.make_bspline(
                [(15.7269407064, 28.5736434162), (15.9090142884, 29.0754057991), (16.5163999869, 29.6287797877), (16.9944312642, 29.7684576869), (18.0580048809, 28.5338577024), (17.8804065865, 26.9820700044), (17.6750115635, 26.7223211529), (15.7504392013, 26.7244582437), (15.6059423106, 27.0182205953), (15.5297562818, 28.0302382411), (15.7269407064, 28.5736434162)],
                knots=[0, 0, 0, 0, 0.1464898599, 0.2248533973, 0.3794803163, 0.5334735251, 0.6033344872, 0.7735700009, 0.8413524994, 1, 1, 1, 1], degree=3))
        make_face(mode=Mode.SUBTRACT)
        with BuildLine():
            add(Edge.make_bspline(
                [(13.5066341609, 31.236641109), (13.8299359629, 31.5798299087), (14.875370562, 31.3415553786), (16.786339181, 30.297564369), (15.0140487369, 28.9371427809), (12.8644735792, 28.7818268487), (13.119519853, 30.8257145571), (13.5066341609, 31.236641109)],
                knots=[0, 0, 0, 0, 0.1826677072, 0.3815637346, 0.5808329613, 0.7812777949, 1, 1, 1, 1], degree=3))
        make_face(mode=Mode.SUBTRACT)
        with BuildLine():
            add(Edge.make_bspline(
                [(17.2994099557, 30.4007325321), (17.3364284495, 30.7731111854), (18.446437354, 31.2411820473), (20.3150717319, 31.7545397635), (20.2400044734, 29.2333635248), (19.8234284095, 29.110837603), (18.3286180446, 28.8994880173), (17.2595049225, 29.9993174274), (17.2994099557, 30.4007325321)],
                knots=[0, 0, 0, 0, 0.1727960905, 0.3515999986, 0.5512797062, 0.6385717656, 0.8137300295, 1, 1, 1, 1], degree=3))
        make_face(mode=Mode.SUBTRACT)
        with BuildLine():
            add(Edge.make_bspline(
                [(15.6358629465, 32.0851840079), (15.4785557521, 32.6168235002), (15.6622648115, 33.3930185671), (15.7881709124, 33.6892594842), (17.6356091915, 33.658599666), (17.829947872, 33.3930934666), (18.1695137721, 31.829298177), (16.9765212555, 30.674115417), (16.5912395254, 30.6221440745), (15.8150047647, 31.4797516522), (15.6358629465, 32.0851840079)],
                knots=[0, 0, 0, 0, 0.1464112603, 0.2133122992, 0.3799111605, 0.4520425577, 0.6059740277, 0.763251608, 0.8332664983, 1, 1, 1, 1], degree=3))
        make_face(mode=Mode.SUBTRACT)
        with BuildLine():
            ThreePointArc((40.086384367, 27.4981996771), (34.2873624785, 22.4239827776), (41.7728176404, 24.2527236081))
            ThreePointArc((41.7728176404, 24.2527236081), (41.6691444212, 25.1536183893), (41.3635447474, 26.007414842))
            ThreePointArc((41.3635447474, 26.007414842), (40.6544584169, 26.6924044121), (40.086384367, 27.4981996771))
        make_face()
        with Locations((37.8904090926, 24.9250375098)):
            Circle(F0_R_15, mode=Mode.SUBTRACT)
        with BuildLine():
            ThreePointArc((40.086384367, 27.4981996771), (40.818655947, 26.8330729882), (41.3635447474, 26.007414842))
            ThreePointArc((41.3635447474, 26.007414842), (46.8997171117, 25.3810828207), (49.8646449033, 30.0981475266))
            ThreePointArc((49.8646449033, 30.0981475266), (43.2847218468, 35.1571520714), (40.086384367, 27.4981996771))
        make_face()
        with Locations((44.9671181414, 27.3072758645)):
            Circle(F0_R_16, mode=Mode.SUBTRACT)
        with Locations((41.5596091564, 30.3424050901)):
            Circle(F0_R_17, mode=Mode.SUBTRACT)
        with Locations((44.7439912229, 33.5273686796)):
            Circle(F0_R_18, mode=Mode.SUBTRACT)
        with Locations((48.0584156777, 30.4064731871)):
            Circle(F0_R_19, mode=Mode.SUBTRACT)
    extrude(amount=F1_DEPTH)


solid = f1.part
